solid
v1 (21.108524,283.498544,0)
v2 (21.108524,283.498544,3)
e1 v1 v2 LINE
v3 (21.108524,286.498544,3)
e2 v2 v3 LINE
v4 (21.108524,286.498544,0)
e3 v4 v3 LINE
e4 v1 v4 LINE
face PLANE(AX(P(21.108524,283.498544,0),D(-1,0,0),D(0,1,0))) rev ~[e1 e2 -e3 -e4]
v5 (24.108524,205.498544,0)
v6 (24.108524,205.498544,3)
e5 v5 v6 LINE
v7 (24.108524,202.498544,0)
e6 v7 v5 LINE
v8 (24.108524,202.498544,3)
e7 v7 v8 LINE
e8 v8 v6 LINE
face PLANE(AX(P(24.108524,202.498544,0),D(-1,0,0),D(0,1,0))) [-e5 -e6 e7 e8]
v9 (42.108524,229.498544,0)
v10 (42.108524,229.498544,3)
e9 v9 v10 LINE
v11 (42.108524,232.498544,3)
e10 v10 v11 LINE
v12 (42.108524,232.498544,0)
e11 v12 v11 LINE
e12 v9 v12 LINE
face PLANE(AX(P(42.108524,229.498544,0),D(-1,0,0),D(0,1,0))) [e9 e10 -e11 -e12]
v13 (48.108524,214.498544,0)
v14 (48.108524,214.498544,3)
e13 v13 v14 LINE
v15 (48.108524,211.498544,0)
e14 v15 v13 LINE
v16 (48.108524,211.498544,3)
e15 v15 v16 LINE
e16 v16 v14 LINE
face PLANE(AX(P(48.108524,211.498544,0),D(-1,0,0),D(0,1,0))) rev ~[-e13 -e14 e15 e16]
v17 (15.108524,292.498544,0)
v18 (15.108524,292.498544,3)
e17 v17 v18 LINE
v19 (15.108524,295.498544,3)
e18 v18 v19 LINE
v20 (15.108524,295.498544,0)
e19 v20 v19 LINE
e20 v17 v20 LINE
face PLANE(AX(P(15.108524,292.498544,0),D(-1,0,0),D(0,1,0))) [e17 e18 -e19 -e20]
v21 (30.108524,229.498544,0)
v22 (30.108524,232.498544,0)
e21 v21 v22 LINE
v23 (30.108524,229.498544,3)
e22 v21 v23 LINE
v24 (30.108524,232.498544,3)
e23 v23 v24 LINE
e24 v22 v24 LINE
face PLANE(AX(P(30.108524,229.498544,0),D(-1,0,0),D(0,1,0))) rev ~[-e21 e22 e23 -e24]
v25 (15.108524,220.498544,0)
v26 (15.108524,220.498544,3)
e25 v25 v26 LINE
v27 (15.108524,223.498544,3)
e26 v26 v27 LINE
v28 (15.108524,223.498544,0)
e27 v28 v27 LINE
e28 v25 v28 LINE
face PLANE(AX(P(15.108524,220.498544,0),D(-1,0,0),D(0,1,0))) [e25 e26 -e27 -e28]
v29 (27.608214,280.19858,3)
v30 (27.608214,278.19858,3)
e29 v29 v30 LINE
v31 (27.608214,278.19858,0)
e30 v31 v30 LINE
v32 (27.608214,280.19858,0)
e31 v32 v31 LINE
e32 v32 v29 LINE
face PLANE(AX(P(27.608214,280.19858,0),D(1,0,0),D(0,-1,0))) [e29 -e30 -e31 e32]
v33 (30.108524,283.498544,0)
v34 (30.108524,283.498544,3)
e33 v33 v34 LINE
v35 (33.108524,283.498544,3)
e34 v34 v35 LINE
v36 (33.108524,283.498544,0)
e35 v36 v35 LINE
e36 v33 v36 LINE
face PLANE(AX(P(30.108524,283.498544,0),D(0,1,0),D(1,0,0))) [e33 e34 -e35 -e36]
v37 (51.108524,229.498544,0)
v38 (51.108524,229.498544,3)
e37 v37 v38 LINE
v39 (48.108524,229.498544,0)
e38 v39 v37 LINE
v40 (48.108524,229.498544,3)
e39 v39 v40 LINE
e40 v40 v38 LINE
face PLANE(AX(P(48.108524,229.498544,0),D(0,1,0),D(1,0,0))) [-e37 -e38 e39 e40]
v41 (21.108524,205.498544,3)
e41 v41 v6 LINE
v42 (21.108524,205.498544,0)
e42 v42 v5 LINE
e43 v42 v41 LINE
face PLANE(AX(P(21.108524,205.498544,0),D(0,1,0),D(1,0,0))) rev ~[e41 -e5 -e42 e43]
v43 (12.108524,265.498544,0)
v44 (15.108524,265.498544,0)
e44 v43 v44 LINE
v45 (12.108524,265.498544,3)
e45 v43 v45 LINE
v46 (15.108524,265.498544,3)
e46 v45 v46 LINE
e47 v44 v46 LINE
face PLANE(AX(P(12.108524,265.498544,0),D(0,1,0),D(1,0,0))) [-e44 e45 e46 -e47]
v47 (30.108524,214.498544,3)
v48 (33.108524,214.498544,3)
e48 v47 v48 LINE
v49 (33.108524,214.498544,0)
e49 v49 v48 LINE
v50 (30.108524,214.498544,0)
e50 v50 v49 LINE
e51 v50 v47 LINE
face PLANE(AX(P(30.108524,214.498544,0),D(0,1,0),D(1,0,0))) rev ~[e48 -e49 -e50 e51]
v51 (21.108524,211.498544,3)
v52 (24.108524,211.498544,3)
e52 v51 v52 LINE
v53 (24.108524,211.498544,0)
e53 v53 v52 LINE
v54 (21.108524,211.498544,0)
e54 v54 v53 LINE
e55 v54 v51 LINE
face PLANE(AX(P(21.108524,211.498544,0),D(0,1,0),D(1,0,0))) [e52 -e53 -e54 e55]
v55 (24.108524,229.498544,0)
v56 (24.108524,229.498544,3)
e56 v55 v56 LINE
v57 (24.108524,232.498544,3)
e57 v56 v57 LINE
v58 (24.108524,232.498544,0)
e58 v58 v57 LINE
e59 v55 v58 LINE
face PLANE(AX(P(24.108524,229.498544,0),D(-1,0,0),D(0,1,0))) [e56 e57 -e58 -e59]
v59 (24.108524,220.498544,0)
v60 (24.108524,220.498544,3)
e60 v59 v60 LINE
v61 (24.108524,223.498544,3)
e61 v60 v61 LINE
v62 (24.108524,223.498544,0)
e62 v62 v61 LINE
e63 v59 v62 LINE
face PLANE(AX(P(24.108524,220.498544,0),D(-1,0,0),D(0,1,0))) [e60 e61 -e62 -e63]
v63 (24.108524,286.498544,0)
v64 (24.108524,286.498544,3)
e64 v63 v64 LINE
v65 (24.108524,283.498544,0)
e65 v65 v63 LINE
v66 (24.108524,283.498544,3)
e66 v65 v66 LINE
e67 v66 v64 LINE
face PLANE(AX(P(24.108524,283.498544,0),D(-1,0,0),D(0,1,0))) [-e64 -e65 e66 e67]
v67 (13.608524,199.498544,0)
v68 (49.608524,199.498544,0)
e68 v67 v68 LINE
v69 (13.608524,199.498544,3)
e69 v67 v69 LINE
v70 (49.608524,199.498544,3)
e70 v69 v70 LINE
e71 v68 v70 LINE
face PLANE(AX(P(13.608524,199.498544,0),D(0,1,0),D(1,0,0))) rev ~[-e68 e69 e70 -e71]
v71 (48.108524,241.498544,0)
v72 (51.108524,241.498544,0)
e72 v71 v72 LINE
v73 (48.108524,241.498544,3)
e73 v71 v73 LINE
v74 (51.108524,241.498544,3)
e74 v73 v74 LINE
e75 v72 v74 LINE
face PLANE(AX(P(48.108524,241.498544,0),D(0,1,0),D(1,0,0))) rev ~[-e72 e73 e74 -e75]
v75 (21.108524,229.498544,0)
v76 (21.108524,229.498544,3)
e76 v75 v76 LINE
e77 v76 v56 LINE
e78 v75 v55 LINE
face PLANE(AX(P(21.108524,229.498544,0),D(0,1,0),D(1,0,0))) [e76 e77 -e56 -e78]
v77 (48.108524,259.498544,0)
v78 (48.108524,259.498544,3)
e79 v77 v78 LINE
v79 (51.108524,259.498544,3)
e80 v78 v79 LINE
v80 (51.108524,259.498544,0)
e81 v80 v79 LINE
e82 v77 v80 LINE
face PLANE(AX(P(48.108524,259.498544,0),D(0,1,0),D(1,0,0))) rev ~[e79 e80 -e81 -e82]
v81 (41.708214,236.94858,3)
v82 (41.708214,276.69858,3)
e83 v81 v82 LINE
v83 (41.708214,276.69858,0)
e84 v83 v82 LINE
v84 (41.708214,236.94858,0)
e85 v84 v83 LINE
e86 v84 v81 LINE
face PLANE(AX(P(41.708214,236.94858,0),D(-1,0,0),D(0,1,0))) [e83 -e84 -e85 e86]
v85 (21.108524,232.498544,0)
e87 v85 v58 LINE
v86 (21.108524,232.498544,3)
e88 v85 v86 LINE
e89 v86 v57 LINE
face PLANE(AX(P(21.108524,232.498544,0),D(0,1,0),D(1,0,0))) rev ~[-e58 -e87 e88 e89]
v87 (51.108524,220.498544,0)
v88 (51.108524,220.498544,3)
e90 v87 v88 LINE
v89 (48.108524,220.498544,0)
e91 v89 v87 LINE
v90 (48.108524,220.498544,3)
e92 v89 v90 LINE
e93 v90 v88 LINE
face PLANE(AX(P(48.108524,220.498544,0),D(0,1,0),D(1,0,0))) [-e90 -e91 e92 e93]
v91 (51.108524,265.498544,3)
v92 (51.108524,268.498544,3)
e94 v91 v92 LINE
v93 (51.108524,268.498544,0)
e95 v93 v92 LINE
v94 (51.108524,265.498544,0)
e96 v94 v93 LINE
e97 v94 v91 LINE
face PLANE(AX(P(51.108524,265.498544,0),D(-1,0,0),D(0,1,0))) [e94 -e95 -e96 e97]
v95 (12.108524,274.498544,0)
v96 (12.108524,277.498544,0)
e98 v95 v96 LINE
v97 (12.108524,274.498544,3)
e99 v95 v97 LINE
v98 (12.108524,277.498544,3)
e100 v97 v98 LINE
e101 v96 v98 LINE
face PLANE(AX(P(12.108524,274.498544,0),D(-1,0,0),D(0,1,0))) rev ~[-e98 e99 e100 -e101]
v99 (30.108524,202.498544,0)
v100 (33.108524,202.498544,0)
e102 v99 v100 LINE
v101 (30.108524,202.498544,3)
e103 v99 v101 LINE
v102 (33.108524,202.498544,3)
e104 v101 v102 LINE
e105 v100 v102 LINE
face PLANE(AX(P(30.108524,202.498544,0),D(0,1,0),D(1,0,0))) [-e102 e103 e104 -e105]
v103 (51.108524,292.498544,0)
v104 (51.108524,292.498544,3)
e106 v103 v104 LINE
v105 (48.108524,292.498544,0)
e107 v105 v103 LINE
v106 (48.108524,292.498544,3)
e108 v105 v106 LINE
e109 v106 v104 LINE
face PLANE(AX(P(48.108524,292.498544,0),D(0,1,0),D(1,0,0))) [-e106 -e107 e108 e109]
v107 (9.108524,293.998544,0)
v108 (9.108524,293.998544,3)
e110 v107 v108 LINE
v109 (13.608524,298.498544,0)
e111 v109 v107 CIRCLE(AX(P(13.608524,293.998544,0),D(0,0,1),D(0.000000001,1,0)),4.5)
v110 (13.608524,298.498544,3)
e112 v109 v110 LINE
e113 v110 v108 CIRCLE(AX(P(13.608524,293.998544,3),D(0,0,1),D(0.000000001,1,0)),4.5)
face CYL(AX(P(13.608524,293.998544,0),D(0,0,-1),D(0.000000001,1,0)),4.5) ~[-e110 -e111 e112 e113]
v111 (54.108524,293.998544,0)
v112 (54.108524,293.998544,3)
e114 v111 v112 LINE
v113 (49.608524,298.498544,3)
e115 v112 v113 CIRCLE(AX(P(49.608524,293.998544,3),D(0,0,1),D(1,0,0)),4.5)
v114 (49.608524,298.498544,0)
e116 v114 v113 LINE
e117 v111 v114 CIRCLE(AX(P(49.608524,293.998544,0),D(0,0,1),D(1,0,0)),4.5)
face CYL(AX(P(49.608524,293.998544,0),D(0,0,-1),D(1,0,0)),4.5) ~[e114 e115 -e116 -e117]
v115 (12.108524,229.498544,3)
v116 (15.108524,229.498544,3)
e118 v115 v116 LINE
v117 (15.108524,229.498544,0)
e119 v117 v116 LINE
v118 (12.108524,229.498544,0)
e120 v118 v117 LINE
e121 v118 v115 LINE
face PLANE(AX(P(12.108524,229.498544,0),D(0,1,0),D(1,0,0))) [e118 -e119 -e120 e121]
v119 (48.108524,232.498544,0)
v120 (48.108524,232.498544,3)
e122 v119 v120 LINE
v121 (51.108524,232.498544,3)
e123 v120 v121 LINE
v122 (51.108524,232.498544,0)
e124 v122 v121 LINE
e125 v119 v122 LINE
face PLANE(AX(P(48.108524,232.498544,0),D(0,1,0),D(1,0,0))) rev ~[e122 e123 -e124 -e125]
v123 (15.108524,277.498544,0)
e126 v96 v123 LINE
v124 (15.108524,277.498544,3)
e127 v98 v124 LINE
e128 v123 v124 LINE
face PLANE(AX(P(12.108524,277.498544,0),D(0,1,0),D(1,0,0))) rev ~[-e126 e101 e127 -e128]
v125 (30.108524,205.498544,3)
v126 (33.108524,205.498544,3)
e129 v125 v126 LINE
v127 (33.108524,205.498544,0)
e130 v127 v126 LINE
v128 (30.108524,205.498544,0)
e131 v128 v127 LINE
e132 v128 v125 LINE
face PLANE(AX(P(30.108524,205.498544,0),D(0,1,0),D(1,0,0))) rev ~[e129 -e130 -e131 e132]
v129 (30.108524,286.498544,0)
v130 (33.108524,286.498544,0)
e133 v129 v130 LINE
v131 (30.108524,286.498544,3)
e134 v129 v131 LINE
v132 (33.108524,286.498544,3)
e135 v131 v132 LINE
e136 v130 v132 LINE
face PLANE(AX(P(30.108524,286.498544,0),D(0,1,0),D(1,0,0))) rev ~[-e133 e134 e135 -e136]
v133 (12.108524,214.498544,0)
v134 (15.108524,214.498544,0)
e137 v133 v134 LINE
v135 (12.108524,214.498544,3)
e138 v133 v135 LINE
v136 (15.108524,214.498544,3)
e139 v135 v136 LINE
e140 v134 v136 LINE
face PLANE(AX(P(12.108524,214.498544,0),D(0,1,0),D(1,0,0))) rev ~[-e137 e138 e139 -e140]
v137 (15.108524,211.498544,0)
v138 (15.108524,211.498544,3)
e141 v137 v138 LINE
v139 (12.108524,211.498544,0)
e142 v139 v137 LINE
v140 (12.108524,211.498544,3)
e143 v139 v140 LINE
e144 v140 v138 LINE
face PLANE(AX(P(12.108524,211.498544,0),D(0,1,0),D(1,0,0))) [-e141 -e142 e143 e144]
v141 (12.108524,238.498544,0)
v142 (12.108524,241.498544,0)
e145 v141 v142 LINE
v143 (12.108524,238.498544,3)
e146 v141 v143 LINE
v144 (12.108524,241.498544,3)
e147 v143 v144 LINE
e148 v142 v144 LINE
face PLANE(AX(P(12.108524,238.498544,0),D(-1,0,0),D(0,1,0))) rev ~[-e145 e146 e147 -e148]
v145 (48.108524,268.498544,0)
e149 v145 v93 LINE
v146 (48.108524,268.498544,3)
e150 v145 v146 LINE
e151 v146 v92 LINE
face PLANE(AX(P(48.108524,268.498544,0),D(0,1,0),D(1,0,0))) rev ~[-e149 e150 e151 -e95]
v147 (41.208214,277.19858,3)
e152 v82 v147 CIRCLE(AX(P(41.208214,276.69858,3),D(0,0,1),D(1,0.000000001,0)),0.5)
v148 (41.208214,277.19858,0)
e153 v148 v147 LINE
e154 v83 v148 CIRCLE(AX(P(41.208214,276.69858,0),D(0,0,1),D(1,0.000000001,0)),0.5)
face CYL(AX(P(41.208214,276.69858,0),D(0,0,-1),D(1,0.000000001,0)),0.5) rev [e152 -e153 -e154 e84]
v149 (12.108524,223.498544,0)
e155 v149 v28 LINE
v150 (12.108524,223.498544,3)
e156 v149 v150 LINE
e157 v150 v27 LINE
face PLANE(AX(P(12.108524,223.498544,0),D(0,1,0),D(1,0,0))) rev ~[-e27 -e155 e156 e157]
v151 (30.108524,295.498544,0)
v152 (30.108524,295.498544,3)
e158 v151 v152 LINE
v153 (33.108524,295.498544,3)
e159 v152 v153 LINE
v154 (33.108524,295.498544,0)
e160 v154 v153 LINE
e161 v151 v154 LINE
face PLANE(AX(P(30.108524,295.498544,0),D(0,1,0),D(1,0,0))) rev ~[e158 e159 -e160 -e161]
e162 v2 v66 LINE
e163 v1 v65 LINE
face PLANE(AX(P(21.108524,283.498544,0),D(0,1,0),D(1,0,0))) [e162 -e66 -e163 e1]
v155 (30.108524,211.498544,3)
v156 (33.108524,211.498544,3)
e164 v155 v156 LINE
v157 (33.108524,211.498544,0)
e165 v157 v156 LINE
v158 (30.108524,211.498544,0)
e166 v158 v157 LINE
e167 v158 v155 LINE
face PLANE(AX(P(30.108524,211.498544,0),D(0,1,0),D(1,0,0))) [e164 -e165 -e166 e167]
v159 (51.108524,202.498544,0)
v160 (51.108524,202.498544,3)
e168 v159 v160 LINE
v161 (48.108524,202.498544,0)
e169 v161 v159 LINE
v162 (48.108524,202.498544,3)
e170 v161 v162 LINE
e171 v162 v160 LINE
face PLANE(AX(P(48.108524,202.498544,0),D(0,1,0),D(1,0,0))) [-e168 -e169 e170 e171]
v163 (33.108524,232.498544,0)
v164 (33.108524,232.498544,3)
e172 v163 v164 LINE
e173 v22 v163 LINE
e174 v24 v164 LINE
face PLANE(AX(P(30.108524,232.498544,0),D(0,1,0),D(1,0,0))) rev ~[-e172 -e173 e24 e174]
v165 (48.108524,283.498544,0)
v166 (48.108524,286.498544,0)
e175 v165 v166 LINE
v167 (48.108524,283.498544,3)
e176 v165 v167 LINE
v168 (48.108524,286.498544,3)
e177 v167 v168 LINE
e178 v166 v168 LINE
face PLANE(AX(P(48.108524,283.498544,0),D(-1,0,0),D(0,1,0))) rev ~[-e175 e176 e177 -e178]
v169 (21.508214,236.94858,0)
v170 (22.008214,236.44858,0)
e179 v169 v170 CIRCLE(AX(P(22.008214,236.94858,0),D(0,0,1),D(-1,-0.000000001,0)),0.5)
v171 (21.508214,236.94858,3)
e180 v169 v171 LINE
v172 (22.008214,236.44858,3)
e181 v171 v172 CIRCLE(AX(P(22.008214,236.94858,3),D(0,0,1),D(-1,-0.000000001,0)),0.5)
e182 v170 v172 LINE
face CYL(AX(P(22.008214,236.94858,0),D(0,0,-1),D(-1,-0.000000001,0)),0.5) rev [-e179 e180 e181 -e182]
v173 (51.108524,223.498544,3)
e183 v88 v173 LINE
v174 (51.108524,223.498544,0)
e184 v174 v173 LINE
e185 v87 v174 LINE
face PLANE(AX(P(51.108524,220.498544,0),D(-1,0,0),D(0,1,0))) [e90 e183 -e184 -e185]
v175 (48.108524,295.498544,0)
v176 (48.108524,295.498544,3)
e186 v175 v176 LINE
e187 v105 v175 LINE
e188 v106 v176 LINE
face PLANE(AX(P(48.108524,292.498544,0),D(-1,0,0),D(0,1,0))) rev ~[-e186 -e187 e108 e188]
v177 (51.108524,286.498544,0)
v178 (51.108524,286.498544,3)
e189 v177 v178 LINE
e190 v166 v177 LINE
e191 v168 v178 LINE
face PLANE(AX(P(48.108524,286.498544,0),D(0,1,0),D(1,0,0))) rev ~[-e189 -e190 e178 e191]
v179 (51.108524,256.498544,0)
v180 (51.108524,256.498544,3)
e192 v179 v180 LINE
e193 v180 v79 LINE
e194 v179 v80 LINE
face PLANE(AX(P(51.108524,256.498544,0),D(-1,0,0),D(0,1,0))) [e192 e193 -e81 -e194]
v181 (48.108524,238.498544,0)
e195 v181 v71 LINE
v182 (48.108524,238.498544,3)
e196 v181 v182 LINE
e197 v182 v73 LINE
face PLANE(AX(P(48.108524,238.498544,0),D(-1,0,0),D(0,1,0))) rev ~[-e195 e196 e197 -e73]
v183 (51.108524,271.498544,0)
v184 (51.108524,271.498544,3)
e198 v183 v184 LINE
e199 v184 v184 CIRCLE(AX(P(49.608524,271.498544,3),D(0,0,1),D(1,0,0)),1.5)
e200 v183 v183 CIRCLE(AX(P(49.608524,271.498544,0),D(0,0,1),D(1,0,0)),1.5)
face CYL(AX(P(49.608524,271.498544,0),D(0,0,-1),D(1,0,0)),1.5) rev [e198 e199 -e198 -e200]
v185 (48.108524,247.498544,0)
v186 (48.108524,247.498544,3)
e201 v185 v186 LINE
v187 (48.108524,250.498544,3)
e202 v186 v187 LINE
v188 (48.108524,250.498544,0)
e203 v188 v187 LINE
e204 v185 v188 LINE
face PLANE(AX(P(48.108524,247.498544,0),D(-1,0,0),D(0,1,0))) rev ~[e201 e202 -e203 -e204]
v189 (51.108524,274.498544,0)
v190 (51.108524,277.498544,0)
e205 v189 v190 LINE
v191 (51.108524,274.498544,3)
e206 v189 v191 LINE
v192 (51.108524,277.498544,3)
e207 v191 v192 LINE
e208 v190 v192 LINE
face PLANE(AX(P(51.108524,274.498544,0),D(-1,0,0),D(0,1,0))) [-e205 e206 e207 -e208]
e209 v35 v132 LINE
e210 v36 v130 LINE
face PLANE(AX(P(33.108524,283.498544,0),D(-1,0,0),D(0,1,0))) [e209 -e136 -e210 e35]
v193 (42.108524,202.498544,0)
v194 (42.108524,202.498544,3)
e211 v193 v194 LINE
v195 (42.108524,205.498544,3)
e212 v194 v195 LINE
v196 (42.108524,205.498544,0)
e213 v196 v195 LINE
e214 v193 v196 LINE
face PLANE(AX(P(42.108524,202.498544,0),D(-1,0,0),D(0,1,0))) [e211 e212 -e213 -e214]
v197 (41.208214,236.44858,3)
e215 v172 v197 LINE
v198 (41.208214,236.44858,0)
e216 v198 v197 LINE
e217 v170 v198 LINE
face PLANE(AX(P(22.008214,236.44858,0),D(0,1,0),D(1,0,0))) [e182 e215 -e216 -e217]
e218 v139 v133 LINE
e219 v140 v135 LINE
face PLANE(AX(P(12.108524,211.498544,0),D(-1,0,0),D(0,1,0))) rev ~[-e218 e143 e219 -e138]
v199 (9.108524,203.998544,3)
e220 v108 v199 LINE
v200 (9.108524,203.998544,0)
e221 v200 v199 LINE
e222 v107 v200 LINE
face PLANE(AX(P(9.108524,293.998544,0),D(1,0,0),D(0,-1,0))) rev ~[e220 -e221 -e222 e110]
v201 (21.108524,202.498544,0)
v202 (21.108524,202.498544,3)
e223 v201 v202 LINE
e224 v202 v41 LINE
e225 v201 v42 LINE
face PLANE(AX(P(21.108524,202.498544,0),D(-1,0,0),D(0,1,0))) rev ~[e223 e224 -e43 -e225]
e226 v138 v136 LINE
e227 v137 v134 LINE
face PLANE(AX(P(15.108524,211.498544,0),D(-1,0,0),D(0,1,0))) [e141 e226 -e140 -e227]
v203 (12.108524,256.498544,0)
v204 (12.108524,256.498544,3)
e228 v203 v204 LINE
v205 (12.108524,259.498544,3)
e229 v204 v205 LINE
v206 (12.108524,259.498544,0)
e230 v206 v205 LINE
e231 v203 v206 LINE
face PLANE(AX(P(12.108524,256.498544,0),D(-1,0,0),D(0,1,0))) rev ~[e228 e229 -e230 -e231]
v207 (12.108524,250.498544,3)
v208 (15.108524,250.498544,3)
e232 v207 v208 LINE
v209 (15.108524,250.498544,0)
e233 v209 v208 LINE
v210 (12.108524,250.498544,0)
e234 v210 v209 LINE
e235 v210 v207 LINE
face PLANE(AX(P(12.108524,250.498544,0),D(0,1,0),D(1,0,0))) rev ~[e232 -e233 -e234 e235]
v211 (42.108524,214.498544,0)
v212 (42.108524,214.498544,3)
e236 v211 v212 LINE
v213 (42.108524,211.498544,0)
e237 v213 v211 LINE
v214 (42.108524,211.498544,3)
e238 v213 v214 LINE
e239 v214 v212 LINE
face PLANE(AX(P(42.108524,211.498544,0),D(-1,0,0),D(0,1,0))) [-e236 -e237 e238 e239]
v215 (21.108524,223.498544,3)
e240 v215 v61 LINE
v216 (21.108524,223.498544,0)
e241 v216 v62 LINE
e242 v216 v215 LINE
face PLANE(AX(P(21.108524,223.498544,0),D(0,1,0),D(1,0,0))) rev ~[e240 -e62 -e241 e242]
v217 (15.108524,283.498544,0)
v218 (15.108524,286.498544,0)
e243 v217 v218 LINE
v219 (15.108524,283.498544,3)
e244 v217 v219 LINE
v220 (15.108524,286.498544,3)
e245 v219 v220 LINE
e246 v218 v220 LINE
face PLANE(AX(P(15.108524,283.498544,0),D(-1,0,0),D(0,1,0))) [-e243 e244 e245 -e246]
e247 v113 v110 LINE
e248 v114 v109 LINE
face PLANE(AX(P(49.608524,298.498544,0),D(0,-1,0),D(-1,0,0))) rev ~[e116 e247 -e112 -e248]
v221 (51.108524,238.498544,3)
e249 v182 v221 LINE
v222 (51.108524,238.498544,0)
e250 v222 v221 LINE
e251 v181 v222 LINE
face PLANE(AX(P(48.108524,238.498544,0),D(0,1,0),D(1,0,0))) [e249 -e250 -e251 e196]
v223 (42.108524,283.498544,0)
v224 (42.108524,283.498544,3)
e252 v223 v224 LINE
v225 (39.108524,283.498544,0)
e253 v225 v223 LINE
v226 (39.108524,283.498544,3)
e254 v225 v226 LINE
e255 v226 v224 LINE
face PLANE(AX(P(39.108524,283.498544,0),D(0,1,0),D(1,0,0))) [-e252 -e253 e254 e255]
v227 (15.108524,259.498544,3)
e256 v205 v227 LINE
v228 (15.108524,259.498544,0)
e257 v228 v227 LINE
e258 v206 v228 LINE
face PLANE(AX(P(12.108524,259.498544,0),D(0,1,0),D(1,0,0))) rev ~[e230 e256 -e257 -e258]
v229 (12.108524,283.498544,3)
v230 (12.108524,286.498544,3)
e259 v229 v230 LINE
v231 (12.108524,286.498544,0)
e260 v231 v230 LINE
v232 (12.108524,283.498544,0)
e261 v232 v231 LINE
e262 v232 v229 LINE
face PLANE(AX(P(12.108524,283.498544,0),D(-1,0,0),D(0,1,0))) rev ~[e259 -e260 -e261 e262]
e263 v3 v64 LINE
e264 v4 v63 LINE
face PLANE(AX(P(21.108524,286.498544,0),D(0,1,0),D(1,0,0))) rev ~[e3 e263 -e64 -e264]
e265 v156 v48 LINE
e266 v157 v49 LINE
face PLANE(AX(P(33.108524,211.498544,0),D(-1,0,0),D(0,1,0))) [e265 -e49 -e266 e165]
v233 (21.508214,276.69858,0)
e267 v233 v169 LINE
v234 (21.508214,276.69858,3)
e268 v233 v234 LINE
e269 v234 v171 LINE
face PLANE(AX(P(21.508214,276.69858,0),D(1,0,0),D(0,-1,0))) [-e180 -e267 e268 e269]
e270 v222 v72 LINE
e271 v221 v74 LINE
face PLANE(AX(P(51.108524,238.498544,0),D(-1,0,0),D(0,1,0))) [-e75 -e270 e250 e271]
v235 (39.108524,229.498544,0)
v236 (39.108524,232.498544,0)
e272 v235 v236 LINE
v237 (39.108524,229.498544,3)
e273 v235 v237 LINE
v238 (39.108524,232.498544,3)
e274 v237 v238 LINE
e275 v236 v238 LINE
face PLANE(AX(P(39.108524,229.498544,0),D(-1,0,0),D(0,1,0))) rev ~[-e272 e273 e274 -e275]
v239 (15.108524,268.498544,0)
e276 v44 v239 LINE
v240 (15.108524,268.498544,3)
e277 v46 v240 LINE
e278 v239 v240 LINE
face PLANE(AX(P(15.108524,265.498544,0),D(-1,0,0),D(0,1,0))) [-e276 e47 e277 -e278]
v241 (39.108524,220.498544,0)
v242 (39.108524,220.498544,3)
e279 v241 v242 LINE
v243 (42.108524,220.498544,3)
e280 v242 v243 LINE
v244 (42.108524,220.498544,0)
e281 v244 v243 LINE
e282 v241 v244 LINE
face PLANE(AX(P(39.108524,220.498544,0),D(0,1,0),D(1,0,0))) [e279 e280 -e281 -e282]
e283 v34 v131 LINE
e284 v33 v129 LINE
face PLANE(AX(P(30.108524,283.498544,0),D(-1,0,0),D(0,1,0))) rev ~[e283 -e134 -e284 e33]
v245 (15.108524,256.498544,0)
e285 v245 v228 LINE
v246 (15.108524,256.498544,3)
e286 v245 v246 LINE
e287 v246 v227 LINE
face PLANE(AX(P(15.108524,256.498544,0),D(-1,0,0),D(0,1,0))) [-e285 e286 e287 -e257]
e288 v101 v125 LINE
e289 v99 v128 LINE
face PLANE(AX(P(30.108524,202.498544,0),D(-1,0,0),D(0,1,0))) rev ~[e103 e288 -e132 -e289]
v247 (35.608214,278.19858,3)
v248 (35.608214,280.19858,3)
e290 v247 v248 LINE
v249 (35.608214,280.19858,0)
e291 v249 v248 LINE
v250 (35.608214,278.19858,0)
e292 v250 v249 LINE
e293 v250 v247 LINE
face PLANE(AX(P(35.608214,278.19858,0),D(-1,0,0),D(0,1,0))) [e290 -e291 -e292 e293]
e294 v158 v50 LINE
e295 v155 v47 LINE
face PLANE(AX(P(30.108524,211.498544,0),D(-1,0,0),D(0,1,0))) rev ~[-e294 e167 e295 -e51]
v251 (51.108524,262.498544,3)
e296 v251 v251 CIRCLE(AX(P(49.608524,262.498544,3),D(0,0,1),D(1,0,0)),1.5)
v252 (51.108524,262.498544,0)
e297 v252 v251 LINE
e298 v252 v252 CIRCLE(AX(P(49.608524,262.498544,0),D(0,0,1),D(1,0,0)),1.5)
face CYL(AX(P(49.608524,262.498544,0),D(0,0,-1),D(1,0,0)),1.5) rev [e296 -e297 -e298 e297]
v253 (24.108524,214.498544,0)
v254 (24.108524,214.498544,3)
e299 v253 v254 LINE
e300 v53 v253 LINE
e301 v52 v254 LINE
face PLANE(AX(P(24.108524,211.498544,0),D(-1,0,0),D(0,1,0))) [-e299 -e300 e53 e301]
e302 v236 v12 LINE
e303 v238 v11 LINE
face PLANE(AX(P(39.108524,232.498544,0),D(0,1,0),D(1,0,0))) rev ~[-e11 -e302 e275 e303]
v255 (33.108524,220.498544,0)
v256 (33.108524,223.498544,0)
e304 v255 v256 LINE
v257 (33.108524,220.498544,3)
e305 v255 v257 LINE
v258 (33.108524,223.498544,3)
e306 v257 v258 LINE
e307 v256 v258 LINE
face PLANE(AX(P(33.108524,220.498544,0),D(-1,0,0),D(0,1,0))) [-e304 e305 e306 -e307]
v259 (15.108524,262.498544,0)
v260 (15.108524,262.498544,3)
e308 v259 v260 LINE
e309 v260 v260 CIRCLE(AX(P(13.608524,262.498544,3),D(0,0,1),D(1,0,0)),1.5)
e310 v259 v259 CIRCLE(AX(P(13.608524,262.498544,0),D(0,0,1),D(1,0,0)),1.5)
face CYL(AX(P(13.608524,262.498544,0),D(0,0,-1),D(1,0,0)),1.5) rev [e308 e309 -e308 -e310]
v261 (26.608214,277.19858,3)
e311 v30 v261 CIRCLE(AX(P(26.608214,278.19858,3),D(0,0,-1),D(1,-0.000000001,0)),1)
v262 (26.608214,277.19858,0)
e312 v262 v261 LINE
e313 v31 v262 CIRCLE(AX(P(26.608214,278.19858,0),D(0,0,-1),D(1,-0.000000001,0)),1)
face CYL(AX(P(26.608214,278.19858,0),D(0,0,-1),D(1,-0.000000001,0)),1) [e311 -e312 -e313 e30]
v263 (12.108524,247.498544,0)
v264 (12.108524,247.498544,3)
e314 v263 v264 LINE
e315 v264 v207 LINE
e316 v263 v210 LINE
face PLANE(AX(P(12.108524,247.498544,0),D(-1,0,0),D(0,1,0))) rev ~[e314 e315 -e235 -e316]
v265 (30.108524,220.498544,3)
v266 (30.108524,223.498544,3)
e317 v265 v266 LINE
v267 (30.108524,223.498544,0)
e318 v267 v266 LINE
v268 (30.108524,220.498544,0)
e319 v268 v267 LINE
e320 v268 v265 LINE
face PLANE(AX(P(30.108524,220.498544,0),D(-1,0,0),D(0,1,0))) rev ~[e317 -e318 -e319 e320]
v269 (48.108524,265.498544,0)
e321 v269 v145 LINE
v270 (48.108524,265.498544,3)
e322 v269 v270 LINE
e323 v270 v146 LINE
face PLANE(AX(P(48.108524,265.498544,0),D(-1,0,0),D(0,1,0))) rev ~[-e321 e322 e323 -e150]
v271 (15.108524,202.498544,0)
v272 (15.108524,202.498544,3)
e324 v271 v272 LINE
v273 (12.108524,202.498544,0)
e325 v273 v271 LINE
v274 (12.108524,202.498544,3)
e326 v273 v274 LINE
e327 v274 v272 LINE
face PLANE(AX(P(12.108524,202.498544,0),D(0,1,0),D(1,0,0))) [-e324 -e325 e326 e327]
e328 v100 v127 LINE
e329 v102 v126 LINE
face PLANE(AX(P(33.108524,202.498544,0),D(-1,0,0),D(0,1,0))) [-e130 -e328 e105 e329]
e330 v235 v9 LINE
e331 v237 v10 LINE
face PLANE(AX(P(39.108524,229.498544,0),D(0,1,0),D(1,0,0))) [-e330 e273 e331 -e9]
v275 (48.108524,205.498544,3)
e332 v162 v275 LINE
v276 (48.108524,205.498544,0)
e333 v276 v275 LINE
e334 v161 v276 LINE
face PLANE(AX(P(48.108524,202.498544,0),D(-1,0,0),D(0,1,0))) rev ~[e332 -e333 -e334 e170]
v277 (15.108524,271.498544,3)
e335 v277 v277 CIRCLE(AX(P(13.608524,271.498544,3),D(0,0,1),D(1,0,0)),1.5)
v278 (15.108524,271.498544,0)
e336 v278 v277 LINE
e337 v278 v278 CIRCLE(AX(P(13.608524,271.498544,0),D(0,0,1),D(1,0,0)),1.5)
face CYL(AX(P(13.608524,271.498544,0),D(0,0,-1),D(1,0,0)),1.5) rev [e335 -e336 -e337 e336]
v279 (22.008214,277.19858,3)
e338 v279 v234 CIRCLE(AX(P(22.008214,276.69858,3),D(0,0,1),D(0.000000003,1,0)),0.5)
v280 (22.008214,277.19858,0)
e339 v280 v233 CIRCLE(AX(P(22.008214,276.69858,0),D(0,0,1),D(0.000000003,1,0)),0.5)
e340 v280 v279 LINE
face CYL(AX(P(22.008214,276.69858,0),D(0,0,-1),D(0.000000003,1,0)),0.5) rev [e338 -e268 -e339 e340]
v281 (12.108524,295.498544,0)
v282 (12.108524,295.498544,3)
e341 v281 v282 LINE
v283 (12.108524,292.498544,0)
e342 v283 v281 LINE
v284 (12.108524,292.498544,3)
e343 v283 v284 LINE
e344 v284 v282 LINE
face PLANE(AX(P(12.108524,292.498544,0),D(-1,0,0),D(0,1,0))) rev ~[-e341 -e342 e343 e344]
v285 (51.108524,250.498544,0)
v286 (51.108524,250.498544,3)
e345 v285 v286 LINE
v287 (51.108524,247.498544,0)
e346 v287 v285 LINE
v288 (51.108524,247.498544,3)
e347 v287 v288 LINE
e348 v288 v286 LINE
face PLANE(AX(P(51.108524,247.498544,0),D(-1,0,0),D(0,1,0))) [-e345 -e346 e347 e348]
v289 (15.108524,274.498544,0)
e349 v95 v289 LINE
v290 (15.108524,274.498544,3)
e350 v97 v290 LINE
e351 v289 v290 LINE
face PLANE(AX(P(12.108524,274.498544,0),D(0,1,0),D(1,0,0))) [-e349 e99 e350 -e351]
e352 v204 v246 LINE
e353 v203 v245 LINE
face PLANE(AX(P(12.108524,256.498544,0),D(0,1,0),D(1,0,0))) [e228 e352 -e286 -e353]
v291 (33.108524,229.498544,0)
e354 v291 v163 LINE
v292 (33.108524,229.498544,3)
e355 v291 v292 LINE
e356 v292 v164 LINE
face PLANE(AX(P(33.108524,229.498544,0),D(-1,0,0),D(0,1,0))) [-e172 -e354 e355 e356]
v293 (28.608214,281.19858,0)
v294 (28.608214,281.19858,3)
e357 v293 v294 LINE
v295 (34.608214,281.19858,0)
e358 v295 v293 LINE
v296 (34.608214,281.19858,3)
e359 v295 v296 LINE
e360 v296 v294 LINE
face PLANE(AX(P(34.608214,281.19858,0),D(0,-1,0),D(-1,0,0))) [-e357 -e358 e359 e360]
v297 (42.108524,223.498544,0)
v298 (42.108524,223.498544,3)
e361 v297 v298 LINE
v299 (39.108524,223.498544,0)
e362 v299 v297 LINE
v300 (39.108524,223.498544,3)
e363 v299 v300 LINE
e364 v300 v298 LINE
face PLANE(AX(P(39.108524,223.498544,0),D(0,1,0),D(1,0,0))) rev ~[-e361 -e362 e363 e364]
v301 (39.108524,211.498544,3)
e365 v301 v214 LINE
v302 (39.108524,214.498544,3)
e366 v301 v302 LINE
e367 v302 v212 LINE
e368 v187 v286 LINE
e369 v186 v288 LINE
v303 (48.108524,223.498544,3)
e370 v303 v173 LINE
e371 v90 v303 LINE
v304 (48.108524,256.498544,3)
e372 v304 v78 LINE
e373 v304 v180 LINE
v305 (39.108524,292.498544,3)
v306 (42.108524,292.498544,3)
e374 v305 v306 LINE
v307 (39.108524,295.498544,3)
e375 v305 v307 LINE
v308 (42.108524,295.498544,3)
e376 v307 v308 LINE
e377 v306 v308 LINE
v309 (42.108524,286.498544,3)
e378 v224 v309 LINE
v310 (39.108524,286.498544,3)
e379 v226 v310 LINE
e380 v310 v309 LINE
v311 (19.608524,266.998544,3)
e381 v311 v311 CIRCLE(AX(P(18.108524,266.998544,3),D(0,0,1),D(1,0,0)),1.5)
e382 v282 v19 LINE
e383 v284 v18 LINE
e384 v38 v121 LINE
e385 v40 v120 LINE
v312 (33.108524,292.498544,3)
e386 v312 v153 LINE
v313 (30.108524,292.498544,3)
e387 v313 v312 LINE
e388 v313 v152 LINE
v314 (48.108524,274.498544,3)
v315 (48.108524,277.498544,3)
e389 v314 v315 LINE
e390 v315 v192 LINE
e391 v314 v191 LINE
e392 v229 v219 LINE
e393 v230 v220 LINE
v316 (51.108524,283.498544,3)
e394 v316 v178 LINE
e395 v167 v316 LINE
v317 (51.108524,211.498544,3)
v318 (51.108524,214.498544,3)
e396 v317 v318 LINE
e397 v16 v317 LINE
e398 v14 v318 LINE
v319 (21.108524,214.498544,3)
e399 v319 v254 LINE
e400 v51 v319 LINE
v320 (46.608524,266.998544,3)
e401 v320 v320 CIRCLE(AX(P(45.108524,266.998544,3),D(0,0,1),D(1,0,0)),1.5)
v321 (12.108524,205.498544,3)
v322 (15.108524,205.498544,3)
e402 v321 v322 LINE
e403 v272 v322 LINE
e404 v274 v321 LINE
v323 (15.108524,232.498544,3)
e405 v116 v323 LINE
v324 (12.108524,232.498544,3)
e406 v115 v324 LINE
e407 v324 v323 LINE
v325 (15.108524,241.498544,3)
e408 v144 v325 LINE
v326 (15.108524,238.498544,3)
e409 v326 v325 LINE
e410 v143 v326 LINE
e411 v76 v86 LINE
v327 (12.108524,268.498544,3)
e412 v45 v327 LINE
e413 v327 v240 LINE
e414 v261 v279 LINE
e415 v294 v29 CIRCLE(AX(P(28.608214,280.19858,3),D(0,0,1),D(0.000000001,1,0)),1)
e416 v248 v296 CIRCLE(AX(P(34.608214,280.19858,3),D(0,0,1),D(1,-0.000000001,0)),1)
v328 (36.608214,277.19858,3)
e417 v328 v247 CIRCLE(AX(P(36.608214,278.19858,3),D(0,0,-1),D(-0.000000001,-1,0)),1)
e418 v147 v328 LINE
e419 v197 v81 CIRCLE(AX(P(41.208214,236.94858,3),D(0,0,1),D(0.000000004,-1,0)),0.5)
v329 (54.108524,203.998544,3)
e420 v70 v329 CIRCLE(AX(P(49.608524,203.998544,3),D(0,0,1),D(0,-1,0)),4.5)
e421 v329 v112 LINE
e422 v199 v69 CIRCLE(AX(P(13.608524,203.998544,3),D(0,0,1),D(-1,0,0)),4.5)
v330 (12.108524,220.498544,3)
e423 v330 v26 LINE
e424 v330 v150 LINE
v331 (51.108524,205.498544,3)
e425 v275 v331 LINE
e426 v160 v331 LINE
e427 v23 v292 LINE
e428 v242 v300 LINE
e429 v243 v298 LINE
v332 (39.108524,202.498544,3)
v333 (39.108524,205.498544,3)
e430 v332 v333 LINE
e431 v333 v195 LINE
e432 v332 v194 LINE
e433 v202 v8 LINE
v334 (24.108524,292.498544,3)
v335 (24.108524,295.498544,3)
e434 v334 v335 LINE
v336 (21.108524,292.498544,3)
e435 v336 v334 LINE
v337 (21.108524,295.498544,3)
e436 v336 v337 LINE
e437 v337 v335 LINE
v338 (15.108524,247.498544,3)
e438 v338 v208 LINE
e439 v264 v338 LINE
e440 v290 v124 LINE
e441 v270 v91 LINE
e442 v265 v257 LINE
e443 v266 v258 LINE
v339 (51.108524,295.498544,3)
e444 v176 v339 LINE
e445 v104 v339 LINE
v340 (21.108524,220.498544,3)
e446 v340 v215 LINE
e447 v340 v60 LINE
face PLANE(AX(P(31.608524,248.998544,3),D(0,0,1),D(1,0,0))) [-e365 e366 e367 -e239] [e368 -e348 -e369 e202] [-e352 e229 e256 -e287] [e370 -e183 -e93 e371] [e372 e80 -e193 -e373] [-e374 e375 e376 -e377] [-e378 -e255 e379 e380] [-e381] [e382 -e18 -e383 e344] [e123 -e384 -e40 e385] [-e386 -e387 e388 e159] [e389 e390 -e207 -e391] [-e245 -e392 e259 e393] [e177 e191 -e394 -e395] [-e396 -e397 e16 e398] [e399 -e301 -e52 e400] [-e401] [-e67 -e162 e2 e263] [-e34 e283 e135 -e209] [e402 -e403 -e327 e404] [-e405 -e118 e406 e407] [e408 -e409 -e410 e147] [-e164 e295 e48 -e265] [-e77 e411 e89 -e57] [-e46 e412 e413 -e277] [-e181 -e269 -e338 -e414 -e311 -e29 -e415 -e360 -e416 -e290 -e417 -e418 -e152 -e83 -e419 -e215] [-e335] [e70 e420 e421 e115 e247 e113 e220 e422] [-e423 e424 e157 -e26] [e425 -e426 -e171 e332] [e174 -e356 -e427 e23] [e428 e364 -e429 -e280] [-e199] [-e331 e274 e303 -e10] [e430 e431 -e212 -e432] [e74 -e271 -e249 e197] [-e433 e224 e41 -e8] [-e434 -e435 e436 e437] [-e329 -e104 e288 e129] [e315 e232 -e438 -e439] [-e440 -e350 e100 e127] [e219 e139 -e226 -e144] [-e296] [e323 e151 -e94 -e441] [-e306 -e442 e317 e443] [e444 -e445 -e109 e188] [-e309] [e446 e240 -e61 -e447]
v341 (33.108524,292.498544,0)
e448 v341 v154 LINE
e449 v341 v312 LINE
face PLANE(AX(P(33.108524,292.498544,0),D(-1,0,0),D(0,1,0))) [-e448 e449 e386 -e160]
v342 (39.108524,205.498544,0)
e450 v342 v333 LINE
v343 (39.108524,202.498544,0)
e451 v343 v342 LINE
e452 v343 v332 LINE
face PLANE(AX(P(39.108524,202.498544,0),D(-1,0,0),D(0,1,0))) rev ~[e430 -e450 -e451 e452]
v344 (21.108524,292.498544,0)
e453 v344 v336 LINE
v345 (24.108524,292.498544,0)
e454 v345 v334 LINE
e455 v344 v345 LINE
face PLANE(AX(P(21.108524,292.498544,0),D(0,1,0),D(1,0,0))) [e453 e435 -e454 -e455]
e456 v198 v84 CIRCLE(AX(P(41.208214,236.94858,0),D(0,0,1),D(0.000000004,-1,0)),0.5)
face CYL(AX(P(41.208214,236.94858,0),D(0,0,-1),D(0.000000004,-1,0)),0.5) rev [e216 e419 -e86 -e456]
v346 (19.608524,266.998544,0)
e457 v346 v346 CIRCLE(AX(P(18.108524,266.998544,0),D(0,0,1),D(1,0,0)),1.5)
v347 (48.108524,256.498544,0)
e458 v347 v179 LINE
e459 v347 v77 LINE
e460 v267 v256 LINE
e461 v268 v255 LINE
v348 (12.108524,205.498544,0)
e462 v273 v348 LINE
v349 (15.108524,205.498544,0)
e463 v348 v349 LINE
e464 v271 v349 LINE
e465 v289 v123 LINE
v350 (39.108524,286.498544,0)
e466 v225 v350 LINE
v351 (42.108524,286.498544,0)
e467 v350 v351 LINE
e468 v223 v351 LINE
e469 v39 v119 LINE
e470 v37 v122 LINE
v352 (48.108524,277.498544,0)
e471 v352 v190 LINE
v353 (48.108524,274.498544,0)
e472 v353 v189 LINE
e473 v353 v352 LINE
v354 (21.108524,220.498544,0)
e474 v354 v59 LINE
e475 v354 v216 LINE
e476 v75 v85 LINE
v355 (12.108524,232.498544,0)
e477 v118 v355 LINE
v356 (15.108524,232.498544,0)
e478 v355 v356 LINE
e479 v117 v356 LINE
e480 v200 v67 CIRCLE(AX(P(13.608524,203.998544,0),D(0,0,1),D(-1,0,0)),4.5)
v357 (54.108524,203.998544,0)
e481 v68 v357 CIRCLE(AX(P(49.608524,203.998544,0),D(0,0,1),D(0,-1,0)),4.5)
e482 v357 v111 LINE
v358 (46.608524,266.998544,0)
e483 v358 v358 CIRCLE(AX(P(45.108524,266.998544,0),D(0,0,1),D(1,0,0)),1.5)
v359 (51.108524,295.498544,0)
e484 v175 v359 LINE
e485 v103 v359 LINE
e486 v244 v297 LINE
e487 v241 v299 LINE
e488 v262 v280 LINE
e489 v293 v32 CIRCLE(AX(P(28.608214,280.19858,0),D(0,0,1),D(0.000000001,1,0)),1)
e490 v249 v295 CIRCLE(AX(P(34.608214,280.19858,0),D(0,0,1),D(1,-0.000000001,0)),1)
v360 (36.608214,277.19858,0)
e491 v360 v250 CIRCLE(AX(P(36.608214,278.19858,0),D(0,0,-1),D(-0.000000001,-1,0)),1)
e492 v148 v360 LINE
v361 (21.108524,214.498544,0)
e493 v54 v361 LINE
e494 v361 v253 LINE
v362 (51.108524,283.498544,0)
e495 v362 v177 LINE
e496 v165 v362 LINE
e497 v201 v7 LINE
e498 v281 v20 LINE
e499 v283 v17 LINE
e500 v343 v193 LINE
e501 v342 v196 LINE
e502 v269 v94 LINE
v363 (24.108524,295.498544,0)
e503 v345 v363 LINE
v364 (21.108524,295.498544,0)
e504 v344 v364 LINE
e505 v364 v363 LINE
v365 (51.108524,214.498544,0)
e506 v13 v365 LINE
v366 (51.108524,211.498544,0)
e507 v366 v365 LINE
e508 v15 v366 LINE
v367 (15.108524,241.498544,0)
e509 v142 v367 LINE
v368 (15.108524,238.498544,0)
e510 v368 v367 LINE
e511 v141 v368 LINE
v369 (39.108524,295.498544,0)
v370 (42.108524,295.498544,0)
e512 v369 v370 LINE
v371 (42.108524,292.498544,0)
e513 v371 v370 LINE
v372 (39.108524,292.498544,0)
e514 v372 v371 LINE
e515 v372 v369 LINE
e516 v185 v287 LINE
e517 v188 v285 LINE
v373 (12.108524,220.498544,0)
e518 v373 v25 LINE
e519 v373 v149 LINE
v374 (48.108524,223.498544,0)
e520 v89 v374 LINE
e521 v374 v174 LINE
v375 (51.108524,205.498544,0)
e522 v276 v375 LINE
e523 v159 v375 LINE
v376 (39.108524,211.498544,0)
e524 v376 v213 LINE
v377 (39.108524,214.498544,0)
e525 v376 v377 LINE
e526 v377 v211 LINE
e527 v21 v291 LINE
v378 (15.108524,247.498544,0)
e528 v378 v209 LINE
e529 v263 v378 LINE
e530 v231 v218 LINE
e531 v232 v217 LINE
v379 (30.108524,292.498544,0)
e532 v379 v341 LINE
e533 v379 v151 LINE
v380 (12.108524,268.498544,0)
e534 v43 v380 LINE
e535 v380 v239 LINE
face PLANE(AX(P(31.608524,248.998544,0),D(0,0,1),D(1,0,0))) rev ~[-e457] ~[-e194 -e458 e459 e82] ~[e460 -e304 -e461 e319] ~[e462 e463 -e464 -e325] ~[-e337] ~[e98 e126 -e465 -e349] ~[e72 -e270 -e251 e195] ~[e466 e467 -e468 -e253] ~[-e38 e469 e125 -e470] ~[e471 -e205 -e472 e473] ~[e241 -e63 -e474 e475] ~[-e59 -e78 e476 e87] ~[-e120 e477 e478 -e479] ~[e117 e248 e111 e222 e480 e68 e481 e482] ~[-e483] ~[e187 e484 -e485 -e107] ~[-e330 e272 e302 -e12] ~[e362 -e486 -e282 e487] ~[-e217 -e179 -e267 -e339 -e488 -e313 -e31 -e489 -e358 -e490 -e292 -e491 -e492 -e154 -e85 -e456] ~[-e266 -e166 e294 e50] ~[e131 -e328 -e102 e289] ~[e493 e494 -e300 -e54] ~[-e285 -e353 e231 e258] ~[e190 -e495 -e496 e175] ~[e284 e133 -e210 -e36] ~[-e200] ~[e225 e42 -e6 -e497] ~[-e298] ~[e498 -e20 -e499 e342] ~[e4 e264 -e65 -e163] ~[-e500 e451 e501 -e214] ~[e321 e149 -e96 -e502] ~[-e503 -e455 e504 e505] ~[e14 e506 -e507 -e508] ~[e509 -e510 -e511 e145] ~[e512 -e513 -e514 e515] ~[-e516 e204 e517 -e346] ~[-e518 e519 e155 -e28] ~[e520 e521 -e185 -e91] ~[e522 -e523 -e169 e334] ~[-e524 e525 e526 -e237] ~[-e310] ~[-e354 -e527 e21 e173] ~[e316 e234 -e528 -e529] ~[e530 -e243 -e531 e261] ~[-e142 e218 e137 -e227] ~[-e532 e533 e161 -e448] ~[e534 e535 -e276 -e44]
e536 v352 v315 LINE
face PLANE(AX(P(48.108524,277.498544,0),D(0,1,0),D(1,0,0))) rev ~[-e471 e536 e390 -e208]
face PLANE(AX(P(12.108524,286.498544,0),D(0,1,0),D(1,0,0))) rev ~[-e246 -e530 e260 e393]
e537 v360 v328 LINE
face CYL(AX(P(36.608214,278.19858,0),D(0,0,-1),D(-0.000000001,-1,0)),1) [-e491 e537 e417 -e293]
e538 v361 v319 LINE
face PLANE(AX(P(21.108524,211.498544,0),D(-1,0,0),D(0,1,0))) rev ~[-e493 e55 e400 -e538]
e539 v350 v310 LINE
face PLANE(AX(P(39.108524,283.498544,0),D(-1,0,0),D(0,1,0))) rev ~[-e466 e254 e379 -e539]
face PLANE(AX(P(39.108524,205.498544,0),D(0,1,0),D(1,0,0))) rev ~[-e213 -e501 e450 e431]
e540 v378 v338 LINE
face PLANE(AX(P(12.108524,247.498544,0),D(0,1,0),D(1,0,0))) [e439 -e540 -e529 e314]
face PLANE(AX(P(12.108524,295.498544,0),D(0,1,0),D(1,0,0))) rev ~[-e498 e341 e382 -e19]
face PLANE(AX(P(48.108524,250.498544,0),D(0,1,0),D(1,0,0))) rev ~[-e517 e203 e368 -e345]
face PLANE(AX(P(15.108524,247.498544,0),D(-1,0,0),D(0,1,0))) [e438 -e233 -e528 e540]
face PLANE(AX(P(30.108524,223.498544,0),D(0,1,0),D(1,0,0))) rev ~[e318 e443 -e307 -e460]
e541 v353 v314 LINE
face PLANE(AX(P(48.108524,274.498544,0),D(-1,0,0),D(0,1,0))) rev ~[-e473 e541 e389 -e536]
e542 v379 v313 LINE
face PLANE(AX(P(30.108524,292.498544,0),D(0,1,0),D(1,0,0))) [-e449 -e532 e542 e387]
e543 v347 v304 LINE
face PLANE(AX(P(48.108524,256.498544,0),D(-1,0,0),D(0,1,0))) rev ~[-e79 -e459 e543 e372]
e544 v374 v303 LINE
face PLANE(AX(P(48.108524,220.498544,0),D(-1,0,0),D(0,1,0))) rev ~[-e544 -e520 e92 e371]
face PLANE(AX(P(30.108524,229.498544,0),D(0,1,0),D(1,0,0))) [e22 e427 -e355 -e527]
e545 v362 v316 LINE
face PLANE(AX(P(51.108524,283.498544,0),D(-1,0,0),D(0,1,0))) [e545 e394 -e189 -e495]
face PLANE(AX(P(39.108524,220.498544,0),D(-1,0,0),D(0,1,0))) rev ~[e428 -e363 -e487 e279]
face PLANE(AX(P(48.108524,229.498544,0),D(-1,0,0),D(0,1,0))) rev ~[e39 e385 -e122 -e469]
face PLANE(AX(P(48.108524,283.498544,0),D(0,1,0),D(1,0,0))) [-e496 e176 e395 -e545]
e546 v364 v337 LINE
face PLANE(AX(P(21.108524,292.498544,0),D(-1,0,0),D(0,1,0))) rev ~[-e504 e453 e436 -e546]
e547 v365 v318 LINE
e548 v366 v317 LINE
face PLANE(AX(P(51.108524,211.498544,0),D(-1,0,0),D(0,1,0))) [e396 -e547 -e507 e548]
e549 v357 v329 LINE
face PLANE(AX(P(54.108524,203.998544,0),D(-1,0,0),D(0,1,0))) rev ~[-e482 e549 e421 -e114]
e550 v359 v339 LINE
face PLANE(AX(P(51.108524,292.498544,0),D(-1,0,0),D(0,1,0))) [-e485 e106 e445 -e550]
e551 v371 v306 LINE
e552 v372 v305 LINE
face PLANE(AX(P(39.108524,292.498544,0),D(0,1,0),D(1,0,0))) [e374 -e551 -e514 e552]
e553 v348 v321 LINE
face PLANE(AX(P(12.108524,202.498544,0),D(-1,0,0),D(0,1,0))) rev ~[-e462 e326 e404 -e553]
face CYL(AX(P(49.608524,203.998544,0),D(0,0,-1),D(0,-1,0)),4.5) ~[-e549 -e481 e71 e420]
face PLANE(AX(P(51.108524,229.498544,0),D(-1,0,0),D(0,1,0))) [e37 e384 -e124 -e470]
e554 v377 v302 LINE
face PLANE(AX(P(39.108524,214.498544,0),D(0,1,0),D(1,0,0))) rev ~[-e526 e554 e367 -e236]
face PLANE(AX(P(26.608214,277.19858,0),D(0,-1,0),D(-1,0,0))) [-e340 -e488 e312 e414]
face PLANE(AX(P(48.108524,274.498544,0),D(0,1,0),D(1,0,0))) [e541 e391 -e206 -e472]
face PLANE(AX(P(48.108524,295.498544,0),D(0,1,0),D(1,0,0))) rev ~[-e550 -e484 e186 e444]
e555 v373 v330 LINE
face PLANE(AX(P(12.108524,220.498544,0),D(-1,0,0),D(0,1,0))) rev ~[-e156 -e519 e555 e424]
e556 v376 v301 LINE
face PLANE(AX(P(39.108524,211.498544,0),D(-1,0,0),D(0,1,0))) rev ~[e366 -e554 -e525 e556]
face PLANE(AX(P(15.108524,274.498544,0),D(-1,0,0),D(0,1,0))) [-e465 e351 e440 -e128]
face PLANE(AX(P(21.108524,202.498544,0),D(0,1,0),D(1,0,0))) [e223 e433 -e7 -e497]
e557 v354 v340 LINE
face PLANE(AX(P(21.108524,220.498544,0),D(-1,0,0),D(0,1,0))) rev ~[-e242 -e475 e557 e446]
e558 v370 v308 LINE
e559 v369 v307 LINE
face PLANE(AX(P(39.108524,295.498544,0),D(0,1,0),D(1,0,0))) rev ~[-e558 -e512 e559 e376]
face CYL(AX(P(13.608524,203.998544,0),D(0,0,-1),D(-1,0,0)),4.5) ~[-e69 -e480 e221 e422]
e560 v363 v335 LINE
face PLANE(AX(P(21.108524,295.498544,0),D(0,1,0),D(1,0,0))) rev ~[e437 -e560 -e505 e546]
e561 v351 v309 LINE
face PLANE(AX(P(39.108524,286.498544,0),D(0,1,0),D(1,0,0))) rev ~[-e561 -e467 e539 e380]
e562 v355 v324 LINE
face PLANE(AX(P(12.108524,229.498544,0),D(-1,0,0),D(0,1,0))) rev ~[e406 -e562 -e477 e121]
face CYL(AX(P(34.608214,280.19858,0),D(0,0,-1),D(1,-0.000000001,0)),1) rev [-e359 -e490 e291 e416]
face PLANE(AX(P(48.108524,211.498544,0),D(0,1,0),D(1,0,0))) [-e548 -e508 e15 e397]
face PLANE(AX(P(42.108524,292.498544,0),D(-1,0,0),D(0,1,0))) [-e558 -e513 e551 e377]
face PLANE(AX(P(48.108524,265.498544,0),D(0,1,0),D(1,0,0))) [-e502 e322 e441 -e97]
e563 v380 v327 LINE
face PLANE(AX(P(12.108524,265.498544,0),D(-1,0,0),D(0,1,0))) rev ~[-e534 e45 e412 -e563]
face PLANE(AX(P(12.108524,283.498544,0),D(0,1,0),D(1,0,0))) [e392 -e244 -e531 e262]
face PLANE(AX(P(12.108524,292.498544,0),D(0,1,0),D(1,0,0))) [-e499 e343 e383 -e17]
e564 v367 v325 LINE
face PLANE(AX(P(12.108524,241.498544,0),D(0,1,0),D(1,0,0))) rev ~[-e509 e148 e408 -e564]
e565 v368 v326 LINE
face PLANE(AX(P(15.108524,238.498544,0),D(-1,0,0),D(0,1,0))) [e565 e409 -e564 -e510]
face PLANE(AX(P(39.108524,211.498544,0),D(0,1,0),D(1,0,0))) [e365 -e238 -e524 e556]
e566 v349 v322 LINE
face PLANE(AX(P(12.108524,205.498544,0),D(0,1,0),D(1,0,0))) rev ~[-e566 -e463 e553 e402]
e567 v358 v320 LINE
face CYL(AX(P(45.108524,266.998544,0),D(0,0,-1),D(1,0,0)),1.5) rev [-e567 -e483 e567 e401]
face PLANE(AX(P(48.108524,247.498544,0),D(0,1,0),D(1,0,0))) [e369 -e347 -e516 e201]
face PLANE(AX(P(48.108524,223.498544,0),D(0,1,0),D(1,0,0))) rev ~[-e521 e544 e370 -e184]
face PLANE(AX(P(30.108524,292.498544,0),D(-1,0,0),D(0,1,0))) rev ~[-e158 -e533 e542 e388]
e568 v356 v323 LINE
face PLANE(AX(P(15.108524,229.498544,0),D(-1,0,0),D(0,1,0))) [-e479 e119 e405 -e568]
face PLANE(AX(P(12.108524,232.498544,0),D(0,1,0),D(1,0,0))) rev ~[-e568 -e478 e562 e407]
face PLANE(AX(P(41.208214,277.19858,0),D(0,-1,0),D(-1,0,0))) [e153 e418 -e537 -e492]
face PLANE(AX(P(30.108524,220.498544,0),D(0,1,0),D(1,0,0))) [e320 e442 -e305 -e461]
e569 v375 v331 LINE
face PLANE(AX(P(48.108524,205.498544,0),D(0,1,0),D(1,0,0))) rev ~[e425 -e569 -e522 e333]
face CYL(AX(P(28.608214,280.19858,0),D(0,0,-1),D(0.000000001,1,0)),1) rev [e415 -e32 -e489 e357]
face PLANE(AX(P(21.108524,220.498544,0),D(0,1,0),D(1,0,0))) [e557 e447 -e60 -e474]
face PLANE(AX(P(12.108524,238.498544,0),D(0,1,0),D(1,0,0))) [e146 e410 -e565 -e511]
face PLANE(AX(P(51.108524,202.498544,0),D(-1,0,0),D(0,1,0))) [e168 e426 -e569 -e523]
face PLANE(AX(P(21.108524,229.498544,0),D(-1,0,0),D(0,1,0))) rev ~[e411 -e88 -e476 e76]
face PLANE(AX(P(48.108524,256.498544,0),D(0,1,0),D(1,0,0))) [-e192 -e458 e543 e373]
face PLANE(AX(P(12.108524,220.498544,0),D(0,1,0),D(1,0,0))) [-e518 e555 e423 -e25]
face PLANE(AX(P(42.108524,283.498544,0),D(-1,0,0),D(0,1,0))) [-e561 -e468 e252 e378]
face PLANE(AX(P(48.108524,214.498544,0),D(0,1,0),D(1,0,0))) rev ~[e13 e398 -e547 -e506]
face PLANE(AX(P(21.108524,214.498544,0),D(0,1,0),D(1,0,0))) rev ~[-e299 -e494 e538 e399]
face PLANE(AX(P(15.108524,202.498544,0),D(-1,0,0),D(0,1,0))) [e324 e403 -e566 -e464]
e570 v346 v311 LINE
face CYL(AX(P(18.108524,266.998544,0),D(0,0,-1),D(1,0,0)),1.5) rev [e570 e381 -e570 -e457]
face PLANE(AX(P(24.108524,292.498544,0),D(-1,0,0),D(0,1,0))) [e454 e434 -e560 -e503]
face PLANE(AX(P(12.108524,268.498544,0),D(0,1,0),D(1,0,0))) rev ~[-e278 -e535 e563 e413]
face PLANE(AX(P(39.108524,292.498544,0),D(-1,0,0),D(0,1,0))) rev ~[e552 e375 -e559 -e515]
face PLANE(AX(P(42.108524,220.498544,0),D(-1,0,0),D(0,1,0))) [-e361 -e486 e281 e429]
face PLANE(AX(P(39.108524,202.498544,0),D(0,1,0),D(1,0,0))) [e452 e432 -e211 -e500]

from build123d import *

# Parameters (mm, degrees)
MODEL_R                 = 1.5
MODEL_W                 = 3
MODEL_H                 = 3
SALIENTE_EXTRUIR1_DEPTH = 3


with BuildPart() as part:
    # Model → Saliente-Extruir1 (new body)
    with BuildSketch(Plane.XY):
        with BuildLine():
            Line((13.608524471, 199.498543913), (49.608524471, 199.498543913))
            ThreePointArc((49.608524471, 199.498543913), (52.790504986, 200.816563398), (54.108524471, 203.998543913))
            Line((54.108524471, 203.998543913), (54.108524471, 293.998543913))
            ThreePointArc((54.108524471, 293.998543913), (52.790504986, 297.180524429), (49.608524471, 298.498543913))
            Line((49.608524471, 298.498543913), (13.608524471, 298.498543913))
            ThreePointArc((13.608524471, 298.498543913), (10.426543955, 297.180524429), (9.108524471, 293.998543913))
            Line((9.108524471, 293.998543913), (9.108524471, 203.998543913))
            ThreePointArc((9.108524471, 203.998543913), (10.426543955, 200.816563398), (13.608524471, 199.498543913))
        make_face()
        with Locations((45.108524471, 266.998543913)):
            Circle(MODEL_R, mode=Mode.SUBTRACT)
        with Locations((18.108524471, 266.998543913)):
            Circle(MODEL_R, mode=Mode.SUBTRACT)
        with Locations((49.608524471, 262.498543913)):
            Circle(MODEL_R, mode=Mode.SUBTRACT)
        with Locations((49.608524471, 271.498543913)):
            Circle(MODEL_R, mode=Mode.SUBTRACT)
        with Locations((13.608524471, 262.498543913)):
            Circle(MODEL_R, mode=Mode.SUBTRACT)
        with Locations((13.608524471, 271.498543913)):
            Circle(MODEL_R, mode=Mode.SUBTRACT)
        with Locations((49.608524471, 293.998543913)):
            Rectangle(MODEL_W, MODEL_H, mode=Mode.SUBTRACT)
        with Locations((49.608524471, 284.998543913)):
            Rectangle(MODEL_W, MODEL_H, mode=Mode.SUBTRACT)
        with Locations((49.608524471, 275.998543913)):
            Rectangle(MODEL_W, MODEL_H, mode=Mode.SUBTRACT)
        with Locations((49.608524471, 266.998543913)):
            Rectangle(MODEL_W, MODEL_H, mode=Mode.SUBTRACT)
        with Locations((49.608524471, 257.998543913)):
            Rectangle(MODEL_W, MODEL_H, mode=Mode.SUBTRACT)
        with Locations((49.608524471, 248.998543913)):
            Rectangle(MODEL_W, MODEL_H, mode=Mode.SUBTRACT)
        with Locations((49.608524471, 239.998543913)):
            Rectangle(MODEL_W, MODEL_H, mode=Mode.SUBTRACT)
        with Locations((49.608524471, 230.998543913)):
            Rectangle(MODEL_W, MODEL_H, mode=Mode.SUBTRACT)
        with Locations((49.608524471, 221.998543913)):
            Rectangle(MODEL_W, MODEL_H, mode=Mode.SUBTRACT)
        with Locations((49.608524471, 212.998543913)):
            Rectangle(MODEL_W, MODEL_H, mode=Mode.SUBTRACT)
        with Locations((49.608524471, 203.998543913)):
            Rectangle(MODEL_W, MODEL_H, mode=Mode.SUBTRACT)
        with Locations((13.608524471, 293.998543913)):
            Rectangle(MODEL_W, MODEL_H, mode=Mode.SUBTRACT)
        with Locations((13.608524471, 284.998543913)):
            Rectangle(MODEL_W, MODEL_H, mode=Mode.SUBTRACT)
        with Locations((13.608524471, 275.998543913)):
            Rectangle(MODEL_W, MODEL_H, mode=Mode.SUBTRACT)
        with Locations((13.608524471, 266.998543913)):
            Rectangle(MODEL_W, MODEL_H, mode=Mode.SUBTRACT)
        with Locations((13.608524471, 257.998543913)):
            Rectangle(MODEL_W, MODEL_H, mode=Mode.SUBTRACT)
        with Locations((13.608524471, 248.998543913)):
            Rectangle(MODEL_W, MODEL_H, mode=Mode.SUBTRACT)
        with Locations((13.608524471, 239.998543913)):
            Rectangle(MODEL_W, MODEL_H, mode=Mode.SUBTRACT)
        with Locations((13.608524471, 230.998543913)):
            Rectangle(MODEL_W, MODEL_H, mode=Mode.SUBTRACT)
        with Locations((13.608524471, 221.998543913)):
            Rectangle(MODEL_W, MODEL_H, mode=Mode.SUBTRACT)
        with Locations((13.608524471, 212.998543913)):
            Rectangle(MODEL_W, MODEL_H, mode=Mode.SUBTRACT)
        with Locations((13.608524471, 203.998543913)):
            Rectangle(MODEL_W, MODEL_H, mode=Mode.SUBTRACT)
        with Locations((40.608524471, 203.998543913)):
            Rectangle(MODEL_W, MODEL_H, mode=Mode.SUBTRACT)
        with Locations((22.608524471, 203.998543913)):
            Rectangle(MODEL_W, MODEL_H, mode=Mode.SUBTRACT)
        with Locations((31.608524471, 203.998543913)):
            Rectangle(MODEL_W, MODEL_H, mode=Mode.SUBTRACT)
        with Locations((40.608524471, 221.998543913)):
            Rectangle(MODEL_W, MODEL_H, mode=Mode.SUBTRACT)
        with Locations((22.608524471, 221.998543913)):
            Rectangle(MODEL_W, MODEL_H, mode=Mode.SUBTRACT)
        with Locations((31.608524471, 221.998543913)):
            Rectangle(MODEL_W, MODEL_H, mode=Mode.SUBTRACT)
        with Locations((40.608524471, 212.998543913)):
            Rectangle(MODEL_W, MODEL_H, mode=Mode.SUBTRACT)
        with Locations((22.608524471, 212.998543913)):
            Rectangle(MODEL_W, MODEL_H, mode=Mode.SUBTRACT)
        with Locations((31.608524471, 212.998543913)):
            Rectangle(MODEL_W, MODEL_H, mode=Mode.SUBTRACT)
        with Locations((40.608524471, 293.998543913)):
            Rectangle(MODEL_W, MODEL_H, mode=Mode.SUBTRACT)
        with Locations((22.608524471, 293.998543913)):
            Rectangle(MODEL_W, MODEL_H, mode=Mode.SUBTRACT)
        with Locations((31.608524471, 293.998543913)):
            Rectangle(MODEL_W, MODEL_H, mode=Mode.SUBTRACT)
        with Locations((40.608524471, 284.998543913)):
            Rectangle(MODEL_W, MODEL_H, mode=Mode.SUBTRACT)
        with Locations((22.608524471, 284.998543913)):
            Rectangle(MODEL_W, MODEL_H, mode=Mode.SUBTRACT)
        with Locations((40.608524471, 230.998543913)):
            Rectangle(MODEL_W, MODEL_H, mode=Mode.SUBTRACT)
        with Locations((22.608524471, 230.998543913)):
            Rectangle(MODEL_W, MODEL_H, mode=Mode.SUBTRACT)
        with Locations((31.608524471, 230.998543913)):
            Rectangle(MODEL_W, MODEL_H, mode=Mode.SUBTRACT)
        with Locations((31.608524471, 284.998543913)):
            Rectangle(MODEL_W, MODEL_H, mode=Mode.SUBTRACT)
        with BuildLine():
            Line((21.508214184, 276.698579599), (21.508214184, 236.948579599))
            ThreePointArc((21.508214184, 236.948579599), (21.654660793, 236.595026209), (22.008214184, 236.448579599))
            Line((22.008214184, 236.448579599), (41.208214184, 236.448579599))
            ThreePointArc((41.208214184, 236.448579599), (41.561767574, 236.595026209), (41.708214184, 236.948579599))
            Line((41.708214184, 236.948579599), (41.708214184, 276.698579599))
            ThreePointArc((41.708214184, 276.698579599), (41.561767574, 277.05213299), (41.208214184, 277.198579599))
            Line((41.208214184, 277.198579599), (36.608214184, 277.198579599))
            ThreePointArc((36.608214184, 277.198579599), (35.901107403, 277.491472818), (35.608214184, 278.198579599))
            Line((35.608214184, 278.198579599), (35.608214184, 280.198579599))
            ThreePointArc((35.608214184, 280.198579599), (35.315320965, 280.905686381), (34.608214184, 281.198579599))
            Line((34.608214184, 281.198579599), (28.608214184, 281.198579599))
            ThreePointArc((28.608214184, 281.198579599), (27.901107403, 280.905686381), (27.608214184, 280.198579599))
            Line((27.608214184, 280.198579599), (27.608214184, 278.198579599))
            ThreePointArc((27.608214184, 278.198579599), (27.315320965, 277.491472818), (26.608214184, 277.198579599))
            Line((26.608214184, 277.198579599), (22.008214184, 277.198579599))
            ThreePointArc((22.008214184, 277.198579599), (21.654660793, 277.05213299), (21.508214184, 276.698579599))
        make_face(mode=Mode.SUBTRACT)
    extrude(amount=SALIENTE_EXTRUIR1_DEPTH)


solid = part.part
